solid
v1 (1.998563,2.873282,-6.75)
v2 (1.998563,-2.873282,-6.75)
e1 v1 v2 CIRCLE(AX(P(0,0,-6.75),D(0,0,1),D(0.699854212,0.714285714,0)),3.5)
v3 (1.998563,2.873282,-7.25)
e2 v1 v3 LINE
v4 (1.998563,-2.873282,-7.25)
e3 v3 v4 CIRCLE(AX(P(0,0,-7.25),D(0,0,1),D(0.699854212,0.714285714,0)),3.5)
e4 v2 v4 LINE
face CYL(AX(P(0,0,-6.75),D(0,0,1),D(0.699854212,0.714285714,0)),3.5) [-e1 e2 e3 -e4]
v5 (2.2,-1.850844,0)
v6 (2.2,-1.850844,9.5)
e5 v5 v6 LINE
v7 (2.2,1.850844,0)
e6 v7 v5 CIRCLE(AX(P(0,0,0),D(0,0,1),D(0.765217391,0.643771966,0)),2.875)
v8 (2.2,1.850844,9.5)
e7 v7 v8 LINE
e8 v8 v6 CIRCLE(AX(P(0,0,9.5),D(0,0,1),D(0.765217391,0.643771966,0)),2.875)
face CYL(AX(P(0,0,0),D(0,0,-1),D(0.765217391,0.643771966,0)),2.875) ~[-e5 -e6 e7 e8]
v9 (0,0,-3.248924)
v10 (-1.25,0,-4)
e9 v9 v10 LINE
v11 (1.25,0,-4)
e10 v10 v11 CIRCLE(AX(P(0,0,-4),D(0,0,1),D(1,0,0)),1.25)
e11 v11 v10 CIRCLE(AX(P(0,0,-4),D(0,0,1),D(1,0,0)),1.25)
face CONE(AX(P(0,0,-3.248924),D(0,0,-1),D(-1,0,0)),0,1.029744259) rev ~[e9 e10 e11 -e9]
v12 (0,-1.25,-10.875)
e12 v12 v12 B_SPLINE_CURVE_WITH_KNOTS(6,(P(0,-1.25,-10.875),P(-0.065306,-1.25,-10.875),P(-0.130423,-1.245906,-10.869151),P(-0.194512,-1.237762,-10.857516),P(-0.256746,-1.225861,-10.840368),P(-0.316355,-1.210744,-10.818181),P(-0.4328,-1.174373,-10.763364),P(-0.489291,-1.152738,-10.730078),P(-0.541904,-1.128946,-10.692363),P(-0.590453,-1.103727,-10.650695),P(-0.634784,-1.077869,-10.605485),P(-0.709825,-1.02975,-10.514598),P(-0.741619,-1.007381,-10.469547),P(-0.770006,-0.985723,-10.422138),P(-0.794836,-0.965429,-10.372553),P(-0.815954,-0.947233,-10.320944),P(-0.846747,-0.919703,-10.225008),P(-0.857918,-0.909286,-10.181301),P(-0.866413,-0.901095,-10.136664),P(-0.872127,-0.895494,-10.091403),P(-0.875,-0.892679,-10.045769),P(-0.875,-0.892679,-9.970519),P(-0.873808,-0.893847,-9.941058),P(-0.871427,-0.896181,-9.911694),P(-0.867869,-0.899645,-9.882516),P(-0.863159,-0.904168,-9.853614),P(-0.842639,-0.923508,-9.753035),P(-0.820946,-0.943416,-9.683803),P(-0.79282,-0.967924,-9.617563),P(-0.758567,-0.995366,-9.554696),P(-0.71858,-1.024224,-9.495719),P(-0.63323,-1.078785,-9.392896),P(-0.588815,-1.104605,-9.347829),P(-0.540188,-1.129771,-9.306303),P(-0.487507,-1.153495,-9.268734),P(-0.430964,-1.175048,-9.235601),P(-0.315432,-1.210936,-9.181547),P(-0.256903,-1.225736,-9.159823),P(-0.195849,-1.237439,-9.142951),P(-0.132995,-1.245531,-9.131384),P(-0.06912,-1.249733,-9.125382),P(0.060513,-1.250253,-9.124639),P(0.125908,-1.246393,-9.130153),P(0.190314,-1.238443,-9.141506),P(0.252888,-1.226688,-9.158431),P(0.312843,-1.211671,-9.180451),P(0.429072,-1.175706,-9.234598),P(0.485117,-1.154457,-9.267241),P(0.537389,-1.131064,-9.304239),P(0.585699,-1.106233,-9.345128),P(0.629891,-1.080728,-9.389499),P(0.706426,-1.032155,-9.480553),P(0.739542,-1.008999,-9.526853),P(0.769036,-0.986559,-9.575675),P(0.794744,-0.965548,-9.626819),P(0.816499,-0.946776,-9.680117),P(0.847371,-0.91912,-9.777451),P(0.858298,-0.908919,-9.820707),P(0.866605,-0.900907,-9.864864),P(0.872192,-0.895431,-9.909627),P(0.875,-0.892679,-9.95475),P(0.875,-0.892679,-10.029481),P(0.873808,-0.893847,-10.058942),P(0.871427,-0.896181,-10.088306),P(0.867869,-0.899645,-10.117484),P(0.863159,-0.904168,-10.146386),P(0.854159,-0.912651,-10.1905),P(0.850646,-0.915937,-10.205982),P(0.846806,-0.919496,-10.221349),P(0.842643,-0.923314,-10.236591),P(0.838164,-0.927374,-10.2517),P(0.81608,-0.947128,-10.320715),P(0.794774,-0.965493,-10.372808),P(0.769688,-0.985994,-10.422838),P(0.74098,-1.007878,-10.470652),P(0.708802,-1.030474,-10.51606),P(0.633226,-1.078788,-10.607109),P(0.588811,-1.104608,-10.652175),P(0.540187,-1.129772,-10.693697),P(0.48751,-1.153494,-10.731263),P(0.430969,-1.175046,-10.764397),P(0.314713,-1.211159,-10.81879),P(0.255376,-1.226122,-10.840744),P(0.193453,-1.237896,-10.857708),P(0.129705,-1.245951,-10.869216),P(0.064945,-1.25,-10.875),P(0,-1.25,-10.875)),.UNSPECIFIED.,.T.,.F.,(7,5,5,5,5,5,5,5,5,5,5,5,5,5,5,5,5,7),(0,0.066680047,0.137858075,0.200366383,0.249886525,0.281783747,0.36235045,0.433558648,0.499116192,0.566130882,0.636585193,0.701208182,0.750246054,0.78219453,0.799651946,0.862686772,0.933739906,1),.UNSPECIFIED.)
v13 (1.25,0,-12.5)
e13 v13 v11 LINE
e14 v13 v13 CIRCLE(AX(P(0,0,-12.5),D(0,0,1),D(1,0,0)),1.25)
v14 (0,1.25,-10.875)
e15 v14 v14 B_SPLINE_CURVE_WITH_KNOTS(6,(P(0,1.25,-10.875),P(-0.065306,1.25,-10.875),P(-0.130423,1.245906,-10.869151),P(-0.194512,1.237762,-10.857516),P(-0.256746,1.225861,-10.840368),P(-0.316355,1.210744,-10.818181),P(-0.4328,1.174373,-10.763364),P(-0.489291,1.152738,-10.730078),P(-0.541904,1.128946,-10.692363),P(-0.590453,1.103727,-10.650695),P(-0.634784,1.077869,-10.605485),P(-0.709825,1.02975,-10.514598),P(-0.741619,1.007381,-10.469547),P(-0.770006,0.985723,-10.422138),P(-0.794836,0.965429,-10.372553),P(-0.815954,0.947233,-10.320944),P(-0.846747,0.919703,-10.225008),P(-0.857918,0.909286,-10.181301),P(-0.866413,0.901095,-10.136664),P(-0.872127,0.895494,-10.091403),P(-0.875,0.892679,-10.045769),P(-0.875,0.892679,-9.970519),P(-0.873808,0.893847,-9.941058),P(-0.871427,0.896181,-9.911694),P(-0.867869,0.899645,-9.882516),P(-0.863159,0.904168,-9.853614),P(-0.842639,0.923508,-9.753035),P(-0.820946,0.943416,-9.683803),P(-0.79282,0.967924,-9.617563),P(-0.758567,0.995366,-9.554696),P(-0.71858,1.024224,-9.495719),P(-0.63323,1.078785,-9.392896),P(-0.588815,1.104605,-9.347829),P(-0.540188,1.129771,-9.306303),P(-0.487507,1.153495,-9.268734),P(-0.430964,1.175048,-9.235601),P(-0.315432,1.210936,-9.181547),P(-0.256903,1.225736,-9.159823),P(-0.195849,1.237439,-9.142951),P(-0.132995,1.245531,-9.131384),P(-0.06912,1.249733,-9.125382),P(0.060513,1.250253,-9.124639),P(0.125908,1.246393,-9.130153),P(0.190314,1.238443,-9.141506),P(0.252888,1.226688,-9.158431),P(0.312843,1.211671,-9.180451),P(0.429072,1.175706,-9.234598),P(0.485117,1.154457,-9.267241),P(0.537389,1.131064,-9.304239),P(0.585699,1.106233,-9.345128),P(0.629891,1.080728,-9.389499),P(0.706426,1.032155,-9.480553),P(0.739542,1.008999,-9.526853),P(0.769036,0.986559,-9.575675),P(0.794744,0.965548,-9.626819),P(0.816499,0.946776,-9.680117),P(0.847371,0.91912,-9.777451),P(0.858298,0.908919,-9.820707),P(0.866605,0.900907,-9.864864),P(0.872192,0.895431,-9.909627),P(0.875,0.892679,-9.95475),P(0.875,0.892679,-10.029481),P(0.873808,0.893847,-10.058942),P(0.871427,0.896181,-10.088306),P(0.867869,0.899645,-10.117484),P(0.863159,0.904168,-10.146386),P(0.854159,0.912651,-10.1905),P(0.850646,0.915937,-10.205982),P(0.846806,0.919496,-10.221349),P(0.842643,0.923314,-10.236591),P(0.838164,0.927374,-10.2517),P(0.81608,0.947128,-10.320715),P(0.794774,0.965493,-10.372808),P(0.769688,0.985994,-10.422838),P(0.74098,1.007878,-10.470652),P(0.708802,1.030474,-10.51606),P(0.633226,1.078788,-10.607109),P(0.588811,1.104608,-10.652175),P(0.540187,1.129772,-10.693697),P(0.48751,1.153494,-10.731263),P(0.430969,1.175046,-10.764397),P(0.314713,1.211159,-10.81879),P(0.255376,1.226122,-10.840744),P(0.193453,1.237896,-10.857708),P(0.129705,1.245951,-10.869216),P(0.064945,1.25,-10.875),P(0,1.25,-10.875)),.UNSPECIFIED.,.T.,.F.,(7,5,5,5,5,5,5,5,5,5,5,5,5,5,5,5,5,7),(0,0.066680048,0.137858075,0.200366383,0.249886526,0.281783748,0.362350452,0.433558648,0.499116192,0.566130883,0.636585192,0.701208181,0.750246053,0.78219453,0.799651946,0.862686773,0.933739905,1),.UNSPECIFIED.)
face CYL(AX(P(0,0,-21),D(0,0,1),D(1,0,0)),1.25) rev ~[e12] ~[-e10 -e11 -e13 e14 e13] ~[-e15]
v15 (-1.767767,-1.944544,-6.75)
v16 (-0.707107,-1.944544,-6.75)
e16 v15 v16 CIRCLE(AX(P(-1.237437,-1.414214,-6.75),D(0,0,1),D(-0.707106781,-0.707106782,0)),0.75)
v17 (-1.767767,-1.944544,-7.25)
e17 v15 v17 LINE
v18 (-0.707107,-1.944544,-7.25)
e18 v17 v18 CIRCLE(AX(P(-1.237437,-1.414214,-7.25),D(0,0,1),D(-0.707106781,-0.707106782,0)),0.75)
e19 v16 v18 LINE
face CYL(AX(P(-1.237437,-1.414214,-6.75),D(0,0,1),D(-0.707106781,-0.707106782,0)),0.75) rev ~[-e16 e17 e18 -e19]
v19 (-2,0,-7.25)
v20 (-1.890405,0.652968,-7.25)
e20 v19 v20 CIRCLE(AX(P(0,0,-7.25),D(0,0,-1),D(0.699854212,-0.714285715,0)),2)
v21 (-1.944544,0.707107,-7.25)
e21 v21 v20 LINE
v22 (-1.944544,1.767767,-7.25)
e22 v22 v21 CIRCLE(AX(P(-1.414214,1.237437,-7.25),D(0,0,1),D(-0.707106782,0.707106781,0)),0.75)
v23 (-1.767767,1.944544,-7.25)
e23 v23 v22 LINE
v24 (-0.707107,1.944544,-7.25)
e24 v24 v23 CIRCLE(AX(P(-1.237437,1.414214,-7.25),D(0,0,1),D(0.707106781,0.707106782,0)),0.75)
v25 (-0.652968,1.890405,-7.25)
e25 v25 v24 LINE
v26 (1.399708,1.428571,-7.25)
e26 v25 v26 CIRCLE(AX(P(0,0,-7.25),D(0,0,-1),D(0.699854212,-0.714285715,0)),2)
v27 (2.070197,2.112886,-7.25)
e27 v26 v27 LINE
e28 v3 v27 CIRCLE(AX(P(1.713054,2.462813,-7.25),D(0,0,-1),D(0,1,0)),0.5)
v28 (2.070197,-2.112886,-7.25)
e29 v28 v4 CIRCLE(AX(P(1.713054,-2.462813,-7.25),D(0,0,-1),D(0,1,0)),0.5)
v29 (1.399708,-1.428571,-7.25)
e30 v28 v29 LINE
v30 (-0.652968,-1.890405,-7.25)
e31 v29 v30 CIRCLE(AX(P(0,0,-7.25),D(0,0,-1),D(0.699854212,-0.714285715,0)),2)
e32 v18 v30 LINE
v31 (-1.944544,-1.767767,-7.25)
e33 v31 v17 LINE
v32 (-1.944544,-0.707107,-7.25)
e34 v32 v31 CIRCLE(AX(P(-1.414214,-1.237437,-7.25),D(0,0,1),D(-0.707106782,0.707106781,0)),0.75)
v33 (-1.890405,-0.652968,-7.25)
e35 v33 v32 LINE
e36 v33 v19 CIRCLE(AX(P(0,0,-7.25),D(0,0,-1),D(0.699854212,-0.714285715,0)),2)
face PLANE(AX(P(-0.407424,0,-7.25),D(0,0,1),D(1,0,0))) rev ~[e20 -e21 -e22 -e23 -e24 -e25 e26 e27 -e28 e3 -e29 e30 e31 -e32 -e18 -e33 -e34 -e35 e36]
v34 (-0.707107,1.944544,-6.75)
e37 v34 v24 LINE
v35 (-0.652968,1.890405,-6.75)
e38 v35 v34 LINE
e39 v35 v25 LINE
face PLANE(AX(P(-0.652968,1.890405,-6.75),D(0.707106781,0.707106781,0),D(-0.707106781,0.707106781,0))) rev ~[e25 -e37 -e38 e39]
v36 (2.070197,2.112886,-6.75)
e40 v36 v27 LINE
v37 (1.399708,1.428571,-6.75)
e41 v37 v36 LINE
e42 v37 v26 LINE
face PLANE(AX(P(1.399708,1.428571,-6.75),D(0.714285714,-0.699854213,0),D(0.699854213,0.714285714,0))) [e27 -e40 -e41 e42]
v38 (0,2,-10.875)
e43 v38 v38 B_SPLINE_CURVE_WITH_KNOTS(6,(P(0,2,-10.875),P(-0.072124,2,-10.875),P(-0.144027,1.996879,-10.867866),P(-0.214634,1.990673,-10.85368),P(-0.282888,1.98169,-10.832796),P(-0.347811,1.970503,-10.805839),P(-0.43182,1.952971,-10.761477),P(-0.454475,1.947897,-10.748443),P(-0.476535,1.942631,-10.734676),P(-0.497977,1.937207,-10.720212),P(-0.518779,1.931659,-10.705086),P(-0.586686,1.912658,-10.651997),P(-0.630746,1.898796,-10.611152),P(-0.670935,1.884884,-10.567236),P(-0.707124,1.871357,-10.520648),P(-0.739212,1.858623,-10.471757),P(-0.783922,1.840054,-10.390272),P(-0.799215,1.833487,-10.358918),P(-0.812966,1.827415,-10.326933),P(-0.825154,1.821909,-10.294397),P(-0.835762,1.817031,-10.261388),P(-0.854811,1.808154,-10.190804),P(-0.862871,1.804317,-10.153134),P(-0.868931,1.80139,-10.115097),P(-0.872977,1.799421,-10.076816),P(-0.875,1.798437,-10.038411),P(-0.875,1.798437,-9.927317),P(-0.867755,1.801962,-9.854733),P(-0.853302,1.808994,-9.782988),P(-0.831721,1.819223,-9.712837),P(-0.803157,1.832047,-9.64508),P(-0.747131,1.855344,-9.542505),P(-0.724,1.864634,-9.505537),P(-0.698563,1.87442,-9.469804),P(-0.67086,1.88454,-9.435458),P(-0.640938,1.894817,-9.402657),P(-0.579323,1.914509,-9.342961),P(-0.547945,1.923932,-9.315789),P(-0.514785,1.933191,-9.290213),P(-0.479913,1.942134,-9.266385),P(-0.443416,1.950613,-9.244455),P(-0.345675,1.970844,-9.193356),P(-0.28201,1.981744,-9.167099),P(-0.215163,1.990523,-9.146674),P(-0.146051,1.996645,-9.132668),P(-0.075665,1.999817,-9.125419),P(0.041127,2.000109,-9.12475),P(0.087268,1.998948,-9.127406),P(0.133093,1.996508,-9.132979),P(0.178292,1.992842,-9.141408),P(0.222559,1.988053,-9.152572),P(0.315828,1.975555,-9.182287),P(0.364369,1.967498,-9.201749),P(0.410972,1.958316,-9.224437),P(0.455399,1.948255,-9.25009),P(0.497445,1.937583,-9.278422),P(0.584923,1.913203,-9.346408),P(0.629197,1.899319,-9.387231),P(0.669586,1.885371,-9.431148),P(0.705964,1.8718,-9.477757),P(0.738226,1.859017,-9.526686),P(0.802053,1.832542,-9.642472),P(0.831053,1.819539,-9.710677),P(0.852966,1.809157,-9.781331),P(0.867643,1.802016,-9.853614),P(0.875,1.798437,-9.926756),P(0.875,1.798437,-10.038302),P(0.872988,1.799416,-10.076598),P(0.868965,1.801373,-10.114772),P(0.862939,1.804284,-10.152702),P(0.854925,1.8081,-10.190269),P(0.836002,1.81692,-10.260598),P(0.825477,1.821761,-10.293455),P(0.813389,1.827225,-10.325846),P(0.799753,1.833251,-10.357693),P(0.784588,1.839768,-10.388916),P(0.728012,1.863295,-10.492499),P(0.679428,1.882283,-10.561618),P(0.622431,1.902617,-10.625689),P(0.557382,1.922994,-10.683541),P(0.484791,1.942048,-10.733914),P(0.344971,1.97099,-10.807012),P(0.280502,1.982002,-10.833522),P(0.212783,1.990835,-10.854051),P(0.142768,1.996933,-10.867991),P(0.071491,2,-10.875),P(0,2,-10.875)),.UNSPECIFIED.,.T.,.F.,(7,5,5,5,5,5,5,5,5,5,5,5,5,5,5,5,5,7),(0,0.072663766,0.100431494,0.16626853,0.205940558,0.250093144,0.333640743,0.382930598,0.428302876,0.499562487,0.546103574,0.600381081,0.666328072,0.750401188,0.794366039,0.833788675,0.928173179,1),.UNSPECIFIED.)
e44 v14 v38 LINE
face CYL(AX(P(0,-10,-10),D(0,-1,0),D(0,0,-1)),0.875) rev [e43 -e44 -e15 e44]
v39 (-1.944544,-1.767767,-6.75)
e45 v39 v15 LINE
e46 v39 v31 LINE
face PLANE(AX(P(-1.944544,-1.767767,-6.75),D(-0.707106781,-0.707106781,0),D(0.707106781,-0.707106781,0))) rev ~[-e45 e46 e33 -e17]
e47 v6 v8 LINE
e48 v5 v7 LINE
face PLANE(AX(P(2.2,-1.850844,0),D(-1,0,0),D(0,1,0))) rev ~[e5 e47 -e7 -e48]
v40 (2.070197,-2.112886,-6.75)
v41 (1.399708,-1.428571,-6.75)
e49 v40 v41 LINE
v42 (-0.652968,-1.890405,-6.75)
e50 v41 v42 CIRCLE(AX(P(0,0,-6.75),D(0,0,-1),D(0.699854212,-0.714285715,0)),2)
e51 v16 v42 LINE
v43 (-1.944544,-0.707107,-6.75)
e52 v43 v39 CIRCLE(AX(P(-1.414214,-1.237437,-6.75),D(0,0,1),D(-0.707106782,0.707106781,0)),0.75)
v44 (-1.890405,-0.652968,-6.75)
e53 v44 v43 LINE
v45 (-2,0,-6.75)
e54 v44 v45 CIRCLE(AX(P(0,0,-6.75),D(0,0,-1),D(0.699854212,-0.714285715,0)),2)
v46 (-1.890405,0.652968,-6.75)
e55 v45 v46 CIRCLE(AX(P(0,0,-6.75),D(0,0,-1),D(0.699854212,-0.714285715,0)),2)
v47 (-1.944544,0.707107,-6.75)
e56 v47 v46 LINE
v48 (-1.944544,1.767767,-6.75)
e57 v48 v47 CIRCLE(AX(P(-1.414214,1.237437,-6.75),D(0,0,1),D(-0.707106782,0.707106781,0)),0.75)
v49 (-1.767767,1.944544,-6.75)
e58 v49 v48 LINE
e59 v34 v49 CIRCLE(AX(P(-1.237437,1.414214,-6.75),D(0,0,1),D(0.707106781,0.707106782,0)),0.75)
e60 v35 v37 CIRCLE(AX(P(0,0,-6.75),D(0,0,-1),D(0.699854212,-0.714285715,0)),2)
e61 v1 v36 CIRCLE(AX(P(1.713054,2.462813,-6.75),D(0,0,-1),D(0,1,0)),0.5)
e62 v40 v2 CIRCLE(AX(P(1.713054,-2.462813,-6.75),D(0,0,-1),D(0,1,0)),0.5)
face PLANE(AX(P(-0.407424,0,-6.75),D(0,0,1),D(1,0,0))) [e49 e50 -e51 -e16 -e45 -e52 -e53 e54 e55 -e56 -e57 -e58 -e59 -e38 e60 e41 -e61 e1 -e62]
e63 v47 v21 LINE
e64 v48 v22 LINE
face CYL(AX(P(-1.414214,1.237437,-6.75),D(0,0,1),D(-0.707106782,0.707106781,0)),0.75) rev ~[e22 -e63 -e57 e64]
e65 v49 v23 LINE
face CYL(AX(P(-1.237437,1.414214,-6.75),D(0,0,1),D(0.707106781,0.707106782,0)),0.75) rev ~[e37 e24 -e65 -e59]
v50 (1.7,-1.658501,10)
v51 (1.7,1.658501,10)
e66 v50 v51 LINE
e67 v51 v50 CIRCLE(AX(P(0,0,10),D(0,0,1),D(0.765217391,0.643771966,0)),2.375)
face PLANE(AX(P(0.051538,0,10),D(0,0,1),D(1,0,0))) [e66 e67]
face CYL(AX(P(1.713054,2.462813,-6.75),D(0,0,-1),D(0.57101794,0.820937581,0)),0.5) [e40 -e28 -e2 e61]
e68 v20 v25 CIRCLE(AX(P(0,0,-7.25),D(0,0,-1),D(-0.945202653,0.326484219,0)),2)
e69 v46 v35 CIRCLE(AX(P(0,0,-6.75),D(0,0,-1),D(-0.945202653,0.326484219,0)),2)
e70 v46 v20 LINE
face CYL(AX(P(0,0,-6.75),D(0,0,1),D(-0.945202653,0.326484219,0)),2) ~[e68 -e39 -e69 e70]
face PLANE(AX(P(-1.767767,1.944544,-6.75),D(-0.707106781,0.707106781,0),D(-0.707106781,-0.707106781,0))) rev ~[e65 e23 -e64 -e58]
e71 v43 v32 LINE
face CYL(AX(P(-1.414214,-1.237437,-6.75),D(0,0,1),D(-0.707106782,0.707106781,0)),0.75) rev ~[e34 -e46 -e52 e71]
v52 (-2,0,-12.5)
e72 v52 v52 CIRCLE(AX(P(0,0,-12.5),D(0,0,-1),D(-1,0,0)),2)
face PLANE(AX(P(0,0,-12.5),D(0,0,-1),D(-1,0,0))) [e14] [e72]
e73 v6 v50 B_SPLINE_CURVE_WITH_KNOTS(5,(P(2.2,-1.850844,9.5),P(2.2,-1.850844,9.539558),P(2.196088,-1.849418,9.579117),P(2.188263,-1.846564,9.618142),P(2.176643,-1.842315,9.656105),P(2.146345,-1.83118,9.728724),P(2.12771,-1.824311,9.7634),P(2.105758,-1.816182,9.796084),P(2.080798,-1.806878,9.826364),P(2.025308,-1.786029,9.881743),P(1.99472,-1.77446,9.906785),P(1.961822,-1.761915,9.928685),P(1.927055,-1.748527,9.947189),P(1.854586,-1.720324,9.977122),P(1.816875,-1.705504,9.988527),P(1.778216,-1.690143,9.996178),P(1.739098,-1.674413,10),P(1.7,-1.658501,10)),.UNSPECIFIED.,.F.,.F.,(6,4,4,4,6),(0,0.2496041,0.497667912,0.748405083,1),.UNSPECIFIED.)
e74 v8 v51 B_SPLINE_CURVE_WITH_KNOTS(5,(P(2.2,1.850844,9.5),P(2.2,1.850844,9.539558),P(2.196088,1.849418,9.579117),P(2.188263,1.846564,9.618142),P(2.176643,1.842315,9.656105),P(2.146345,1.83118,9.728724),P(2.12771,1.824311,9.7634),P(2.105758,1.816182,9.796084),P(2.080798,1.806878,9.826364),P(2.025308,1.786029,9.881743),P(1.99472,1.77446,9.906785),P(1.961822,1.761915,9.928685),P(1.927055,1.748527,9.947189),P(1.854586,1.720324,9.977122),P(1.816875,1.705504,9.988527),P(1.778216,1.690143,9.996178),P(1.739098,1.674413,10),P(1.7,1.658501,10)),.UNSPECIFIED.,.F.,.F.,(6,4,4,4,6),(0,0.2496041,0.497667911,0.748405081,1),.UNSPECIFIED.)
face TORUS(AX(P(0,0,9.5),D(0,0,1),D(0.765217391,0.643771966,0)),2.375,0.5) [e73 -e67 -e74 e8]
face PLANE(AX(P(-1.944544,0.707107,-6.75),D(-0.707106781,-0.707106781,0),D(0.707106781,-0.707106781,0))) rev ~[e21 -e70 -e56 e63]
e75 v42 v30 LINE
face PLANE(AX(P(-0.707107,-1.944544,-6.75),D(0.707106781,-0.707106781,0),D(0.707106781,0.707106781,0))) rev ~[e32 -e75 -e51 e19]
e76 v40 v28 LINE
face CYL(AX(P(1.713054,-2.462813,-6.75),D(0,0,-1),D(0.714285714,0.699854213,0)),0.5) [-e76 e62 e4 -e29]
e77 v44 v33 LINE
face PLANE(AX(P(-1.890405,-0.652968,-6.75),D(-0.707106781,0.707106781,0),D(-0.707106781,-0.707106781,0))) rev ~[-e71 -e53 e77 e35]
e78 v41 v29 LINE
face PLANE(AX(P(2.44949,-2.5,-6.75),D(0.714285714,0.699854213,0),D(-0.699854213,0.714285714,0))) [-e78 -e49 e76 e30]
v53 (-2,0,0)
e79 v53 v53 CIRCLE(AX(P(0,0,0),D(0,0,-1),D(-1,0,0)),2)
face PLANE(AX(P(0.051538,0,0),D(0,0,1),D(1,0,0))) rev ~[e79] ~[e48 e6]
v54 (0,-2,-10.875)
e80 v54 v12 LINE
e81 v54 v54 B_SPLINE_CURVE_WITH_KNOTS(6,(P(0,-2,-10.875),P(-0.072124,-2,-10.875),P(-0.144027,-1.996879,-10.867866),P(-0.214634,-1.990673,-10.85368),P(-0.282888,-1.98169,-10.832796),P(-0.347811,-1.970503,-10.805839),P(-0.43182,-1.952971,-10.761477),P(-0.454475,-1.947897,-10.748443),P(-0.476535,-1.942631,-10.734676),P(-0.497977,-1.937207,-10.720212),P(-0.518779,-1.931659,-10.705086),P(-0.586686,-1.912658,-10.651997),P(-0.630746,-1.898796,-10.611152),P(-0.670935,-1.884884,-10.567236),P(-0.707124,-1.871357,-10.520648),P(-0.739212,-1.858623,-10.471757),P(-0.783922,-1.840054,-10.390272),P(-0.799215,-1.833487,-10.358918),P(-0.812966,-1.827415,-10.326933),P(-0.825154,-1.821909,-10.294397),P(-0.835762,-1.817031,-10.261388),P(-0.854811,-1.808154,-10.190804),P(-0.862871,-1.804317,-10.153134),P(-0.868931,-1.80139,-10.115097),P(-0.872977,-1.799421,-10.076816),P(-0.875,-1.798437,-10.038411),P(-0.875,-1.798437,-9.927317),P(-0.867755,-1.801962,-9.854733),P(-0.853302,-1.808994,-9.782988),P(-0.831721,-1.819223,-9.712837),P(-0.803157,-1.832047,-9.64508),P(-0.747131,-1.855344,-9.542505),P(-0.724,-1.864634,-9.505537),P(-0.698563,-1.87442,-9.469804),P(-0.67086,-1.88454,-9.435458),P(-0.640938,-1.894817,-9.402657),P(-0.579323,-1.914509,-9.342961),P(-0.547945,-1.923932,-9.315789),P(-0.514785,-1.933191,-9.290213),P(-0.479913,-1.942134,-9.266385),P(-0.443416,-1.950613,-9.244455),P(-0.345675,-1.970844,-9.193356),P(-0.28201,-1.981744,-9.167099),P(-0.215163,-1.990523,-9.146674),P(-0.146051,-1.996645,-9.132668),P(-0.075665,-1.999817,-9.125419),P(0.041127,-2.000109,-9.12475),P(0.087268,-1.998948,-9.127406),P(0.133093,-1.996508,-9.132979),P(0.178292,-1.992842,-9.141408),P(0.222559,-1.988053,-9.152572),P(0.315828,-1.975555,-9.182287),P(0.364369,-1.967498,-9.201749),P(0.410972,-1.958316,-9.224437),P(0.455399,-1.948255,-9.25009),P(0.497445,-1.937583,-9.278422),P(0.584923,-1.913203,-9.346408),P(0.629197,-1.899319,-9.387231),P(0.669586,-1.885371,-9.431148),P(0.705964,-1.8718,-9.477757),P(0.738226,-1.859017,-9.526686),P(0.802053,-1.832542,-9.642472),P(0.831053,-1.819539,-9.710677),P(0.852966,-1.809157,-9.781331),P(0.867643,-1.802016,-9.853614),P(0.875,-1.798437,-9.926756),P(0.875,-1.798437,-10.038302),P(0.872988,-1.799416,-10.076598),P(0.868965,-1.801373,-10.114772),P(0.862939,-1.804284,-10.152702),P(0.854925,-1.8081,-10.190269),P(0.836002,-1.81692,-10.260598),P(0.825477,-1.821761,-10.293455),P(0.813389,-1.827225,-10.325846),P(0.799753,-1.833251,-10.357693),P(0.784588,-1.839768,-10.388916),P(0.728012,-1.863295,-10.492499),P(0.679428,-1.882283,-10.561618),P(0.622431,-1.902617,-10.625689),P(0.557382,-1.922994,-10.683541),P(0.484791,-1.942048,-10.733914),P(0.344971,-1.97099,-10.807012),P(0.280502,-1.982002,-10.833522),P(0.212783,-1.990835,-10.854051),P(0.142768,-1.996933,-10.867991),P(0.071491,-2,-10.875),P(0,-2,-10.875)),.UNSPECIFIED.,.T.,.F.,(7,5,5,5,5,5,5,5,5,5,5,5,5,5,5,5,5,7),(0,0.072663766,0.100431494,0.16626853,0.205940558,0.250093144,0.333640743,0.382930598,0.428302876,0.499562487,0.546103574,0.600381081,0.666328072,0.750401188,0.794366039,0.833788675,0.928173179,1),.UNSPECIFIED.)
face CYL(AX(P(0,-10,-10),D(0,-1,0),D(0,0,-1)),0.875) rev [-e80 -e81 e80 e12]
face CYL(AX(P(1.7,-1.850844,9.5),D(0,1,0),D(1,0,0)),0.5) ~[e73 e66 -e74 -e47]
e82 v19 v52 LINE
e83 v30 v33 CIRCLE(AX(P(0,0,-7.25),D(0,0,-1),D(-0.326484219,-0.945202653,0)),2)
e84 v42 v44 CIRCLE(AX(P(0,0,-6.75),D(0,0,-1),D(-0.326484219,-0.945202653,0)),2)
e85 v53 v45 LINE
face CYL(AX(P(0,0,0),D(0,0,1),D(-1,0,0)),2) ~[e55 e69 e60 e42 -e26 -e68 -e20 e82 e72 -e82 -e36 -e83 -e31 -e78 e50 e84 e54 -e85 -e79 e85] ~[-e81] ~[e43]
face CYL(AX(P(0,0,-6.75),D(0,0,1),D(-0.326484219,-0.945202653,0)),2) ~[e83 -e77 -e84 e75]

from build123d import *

# Parameters (mm, degrees)
EXTRUDE_1_DEPTH          = 10
FILLET_1_R               = 0.5
SKETCH_2_R               = 2
EXTRUDE_2_DEPTH          = 12.5
EXTRUDE_START            = 0.5
EXTRUDE_3_DEPTH          = 0.5
CUT_EXTRUDE_START        = -0.5
CUT_EXTRUDE_1_DEPTH      = 0.5
FILLET_2_R               = 0.5
HOLE_WIZARD_M31_D        = 2.5
HOLE_WIZARD_M31_DEPTH    = 8.5
HOLE_WIZARD_M31_TIP      = 0.751075774
CUT_EXTRUDE_2_DEPTH      = 10
CUT_EXTRUDE_2_DEPTH_BACK = 10
SKETCH_8_R               = 0.875


with BuildPart() as part:
    # Эскиз1 → Бобышка-Вытянуть1 (new body)
    with BuildSketch(Plane.XY):
        with BuildLine():
            Line((2.2, -1.850844402), (2.2, 1.850844402))
            ThreePointArc((2.2, 1.850844402), (-2.875, 0), (2.2, -1.850844402))
        make_face()
    extrude(amount=EXTRUDE_1_DEPTH)

    # Скругление1
    fillet_1_edges = [part.edges().sort_by_distance(p)[0] for p in [
        (2.2, 0, 10),
        (-2.875, 0, 10),
    ]]
    fillet(fillet_1_edges, radius=FILLET_1_R)

    # Эскиз2 → Бобышка-Вытянуть2 (add)
    with BuildSketch(Plane(origin=(0, 0, 0), x_dir=(-1, 0, 0), z_dir=(0, 0, -1))):
        Circle(SKETCH_2_R)
    extrude(amount=EXTRUDE_2_DEPTH)

    # Эскиз3 → Бобышка-Вытянуть3 (add)
    with BuildSketch(Plane.XY.offset(-7.25).offset(EXTRUDE_START)):
        with BuildLine():
            Line((2.449489743, -2.5), (1.399708424, -1.428571429))
            ThreePointArc((1.399708424, -1.428571429), (-2, 0), (1.399708424, 1.428571429))
            Line((1.399708424, 1.428571429), (2.449489743, 2.5))
            ThreePointArc((2.449489743, 2.5), (-3.5, 0), (2.449489743, -2.5))
        make_face()
    extrude(amount=-EXTRUDE_3_DEPTH)

    # Эскиз4 → Вырез-Вытянуть1 (cut)
    with BuildSketch(Plane(origin=(0, 0, -7.25), x_dir=(-1, 0, 0), z_dir=(0, 0, -1)).offset(CUT_EXTRUDE_START)):
        with BuildLine():
            Line((1.944543648, -1.767766953), (1.767766953, -1.944543648))
            ThreePointArc((1.767766953, -1.944543648), (1.237436867, -2.164213562), (0.707106781, -1.944543648))
            Line((0.707106781, -1.944543648), (0.652968438, -1.890405305))
            ThreePointArc((0.652968438, -1.890405305), (1.414213562, -1.414213562), (1.890405305, -0.652968438))
            Line((1.890405305, -0.652968438), (1.944543648, -0.707106781))
            ThreePointArc((1.944543648, -0.707106781), (2.164213562, -1.237436867), (1.944543648, -1.767766953))
        make_face()
        with BuildLine():
            Line((1.767766953, 1.944543648), (1.944543648, 1.767766953))
            ThreePointArc((1.944543648, 1.767766953), (2.164213562, 1.237436867), (1.944543648, 0.707106781))
            Line((1.944543648, 0.707106781), (1.890405305, 0.652968438))
            ThreePointArc((1.890405305, 0.652968438), (1.414213562, 1.414213562), (0.652968438, 1.890405305))
            Line((0.652968438, 1.890405305), (0.707106781, 1.944543648))
            ThreePointArc((0.707106781, 1.944543648), (1.237436867, 2.164213562), (1.767766953, 1.944543648))
        make_face()
    extrude(amount=CUT_EXTRUDE_1_DEPTH, mode=Mode.SUBTRACT)

    # Скругление2
    fillet_2_edges = [part.edges().sort_by_distance(p)[0] for p in [
        (2.449489743, -2.5, -7),
        (2.449489743, 2.5, -7),
    ]]
    fillet(fillet_2_edges, radius=FILLET_2_R)

    # Отверстие обработанное метчиком M31
    with Locations(Plane(origin=(0, 0, -12.5), x_dir=(-1, 0, 0), z_dir=(0, 0, -1))):
        with Locations((0, 0)):
            Hole(HOLE_WIZARD_M31_D / 2, depth=HOLE_WIZARD_M31_DEPTH)
            with Locations((0, 0, -(HOLE_WIZARD_M31_DEPTH + HOLE_WIZARD_M31_TIP / 2))):  # 118° drill point
                Cone(0, HOLE_WIZARD_M31_D / 2, HOLE_WIZARD_M31_TIP, mode=Mode.SUBTRACT)

    # Эскиз8 → Вырез-Вытянуть2 (cut, two sides: drawn at the far end of the back side and taken through both)
    with BuildSketch(Plane(origin=(0, 0, 0), x_dir=(1, 0, 0), z_dir=(0, 1, 0)).offset(-CUT_EXTRUDE_2_DEPTH_BACK)):
        with Locations((0, 10)):
            Circle(SKETCH_8_R)
    extrude(amount=CUT_EXTRUDE_2_DEPTH + CUT_EXTRUDE_2_DEPTH_BACK, mode=Mode.SUBTRACT)


solid = part.part
